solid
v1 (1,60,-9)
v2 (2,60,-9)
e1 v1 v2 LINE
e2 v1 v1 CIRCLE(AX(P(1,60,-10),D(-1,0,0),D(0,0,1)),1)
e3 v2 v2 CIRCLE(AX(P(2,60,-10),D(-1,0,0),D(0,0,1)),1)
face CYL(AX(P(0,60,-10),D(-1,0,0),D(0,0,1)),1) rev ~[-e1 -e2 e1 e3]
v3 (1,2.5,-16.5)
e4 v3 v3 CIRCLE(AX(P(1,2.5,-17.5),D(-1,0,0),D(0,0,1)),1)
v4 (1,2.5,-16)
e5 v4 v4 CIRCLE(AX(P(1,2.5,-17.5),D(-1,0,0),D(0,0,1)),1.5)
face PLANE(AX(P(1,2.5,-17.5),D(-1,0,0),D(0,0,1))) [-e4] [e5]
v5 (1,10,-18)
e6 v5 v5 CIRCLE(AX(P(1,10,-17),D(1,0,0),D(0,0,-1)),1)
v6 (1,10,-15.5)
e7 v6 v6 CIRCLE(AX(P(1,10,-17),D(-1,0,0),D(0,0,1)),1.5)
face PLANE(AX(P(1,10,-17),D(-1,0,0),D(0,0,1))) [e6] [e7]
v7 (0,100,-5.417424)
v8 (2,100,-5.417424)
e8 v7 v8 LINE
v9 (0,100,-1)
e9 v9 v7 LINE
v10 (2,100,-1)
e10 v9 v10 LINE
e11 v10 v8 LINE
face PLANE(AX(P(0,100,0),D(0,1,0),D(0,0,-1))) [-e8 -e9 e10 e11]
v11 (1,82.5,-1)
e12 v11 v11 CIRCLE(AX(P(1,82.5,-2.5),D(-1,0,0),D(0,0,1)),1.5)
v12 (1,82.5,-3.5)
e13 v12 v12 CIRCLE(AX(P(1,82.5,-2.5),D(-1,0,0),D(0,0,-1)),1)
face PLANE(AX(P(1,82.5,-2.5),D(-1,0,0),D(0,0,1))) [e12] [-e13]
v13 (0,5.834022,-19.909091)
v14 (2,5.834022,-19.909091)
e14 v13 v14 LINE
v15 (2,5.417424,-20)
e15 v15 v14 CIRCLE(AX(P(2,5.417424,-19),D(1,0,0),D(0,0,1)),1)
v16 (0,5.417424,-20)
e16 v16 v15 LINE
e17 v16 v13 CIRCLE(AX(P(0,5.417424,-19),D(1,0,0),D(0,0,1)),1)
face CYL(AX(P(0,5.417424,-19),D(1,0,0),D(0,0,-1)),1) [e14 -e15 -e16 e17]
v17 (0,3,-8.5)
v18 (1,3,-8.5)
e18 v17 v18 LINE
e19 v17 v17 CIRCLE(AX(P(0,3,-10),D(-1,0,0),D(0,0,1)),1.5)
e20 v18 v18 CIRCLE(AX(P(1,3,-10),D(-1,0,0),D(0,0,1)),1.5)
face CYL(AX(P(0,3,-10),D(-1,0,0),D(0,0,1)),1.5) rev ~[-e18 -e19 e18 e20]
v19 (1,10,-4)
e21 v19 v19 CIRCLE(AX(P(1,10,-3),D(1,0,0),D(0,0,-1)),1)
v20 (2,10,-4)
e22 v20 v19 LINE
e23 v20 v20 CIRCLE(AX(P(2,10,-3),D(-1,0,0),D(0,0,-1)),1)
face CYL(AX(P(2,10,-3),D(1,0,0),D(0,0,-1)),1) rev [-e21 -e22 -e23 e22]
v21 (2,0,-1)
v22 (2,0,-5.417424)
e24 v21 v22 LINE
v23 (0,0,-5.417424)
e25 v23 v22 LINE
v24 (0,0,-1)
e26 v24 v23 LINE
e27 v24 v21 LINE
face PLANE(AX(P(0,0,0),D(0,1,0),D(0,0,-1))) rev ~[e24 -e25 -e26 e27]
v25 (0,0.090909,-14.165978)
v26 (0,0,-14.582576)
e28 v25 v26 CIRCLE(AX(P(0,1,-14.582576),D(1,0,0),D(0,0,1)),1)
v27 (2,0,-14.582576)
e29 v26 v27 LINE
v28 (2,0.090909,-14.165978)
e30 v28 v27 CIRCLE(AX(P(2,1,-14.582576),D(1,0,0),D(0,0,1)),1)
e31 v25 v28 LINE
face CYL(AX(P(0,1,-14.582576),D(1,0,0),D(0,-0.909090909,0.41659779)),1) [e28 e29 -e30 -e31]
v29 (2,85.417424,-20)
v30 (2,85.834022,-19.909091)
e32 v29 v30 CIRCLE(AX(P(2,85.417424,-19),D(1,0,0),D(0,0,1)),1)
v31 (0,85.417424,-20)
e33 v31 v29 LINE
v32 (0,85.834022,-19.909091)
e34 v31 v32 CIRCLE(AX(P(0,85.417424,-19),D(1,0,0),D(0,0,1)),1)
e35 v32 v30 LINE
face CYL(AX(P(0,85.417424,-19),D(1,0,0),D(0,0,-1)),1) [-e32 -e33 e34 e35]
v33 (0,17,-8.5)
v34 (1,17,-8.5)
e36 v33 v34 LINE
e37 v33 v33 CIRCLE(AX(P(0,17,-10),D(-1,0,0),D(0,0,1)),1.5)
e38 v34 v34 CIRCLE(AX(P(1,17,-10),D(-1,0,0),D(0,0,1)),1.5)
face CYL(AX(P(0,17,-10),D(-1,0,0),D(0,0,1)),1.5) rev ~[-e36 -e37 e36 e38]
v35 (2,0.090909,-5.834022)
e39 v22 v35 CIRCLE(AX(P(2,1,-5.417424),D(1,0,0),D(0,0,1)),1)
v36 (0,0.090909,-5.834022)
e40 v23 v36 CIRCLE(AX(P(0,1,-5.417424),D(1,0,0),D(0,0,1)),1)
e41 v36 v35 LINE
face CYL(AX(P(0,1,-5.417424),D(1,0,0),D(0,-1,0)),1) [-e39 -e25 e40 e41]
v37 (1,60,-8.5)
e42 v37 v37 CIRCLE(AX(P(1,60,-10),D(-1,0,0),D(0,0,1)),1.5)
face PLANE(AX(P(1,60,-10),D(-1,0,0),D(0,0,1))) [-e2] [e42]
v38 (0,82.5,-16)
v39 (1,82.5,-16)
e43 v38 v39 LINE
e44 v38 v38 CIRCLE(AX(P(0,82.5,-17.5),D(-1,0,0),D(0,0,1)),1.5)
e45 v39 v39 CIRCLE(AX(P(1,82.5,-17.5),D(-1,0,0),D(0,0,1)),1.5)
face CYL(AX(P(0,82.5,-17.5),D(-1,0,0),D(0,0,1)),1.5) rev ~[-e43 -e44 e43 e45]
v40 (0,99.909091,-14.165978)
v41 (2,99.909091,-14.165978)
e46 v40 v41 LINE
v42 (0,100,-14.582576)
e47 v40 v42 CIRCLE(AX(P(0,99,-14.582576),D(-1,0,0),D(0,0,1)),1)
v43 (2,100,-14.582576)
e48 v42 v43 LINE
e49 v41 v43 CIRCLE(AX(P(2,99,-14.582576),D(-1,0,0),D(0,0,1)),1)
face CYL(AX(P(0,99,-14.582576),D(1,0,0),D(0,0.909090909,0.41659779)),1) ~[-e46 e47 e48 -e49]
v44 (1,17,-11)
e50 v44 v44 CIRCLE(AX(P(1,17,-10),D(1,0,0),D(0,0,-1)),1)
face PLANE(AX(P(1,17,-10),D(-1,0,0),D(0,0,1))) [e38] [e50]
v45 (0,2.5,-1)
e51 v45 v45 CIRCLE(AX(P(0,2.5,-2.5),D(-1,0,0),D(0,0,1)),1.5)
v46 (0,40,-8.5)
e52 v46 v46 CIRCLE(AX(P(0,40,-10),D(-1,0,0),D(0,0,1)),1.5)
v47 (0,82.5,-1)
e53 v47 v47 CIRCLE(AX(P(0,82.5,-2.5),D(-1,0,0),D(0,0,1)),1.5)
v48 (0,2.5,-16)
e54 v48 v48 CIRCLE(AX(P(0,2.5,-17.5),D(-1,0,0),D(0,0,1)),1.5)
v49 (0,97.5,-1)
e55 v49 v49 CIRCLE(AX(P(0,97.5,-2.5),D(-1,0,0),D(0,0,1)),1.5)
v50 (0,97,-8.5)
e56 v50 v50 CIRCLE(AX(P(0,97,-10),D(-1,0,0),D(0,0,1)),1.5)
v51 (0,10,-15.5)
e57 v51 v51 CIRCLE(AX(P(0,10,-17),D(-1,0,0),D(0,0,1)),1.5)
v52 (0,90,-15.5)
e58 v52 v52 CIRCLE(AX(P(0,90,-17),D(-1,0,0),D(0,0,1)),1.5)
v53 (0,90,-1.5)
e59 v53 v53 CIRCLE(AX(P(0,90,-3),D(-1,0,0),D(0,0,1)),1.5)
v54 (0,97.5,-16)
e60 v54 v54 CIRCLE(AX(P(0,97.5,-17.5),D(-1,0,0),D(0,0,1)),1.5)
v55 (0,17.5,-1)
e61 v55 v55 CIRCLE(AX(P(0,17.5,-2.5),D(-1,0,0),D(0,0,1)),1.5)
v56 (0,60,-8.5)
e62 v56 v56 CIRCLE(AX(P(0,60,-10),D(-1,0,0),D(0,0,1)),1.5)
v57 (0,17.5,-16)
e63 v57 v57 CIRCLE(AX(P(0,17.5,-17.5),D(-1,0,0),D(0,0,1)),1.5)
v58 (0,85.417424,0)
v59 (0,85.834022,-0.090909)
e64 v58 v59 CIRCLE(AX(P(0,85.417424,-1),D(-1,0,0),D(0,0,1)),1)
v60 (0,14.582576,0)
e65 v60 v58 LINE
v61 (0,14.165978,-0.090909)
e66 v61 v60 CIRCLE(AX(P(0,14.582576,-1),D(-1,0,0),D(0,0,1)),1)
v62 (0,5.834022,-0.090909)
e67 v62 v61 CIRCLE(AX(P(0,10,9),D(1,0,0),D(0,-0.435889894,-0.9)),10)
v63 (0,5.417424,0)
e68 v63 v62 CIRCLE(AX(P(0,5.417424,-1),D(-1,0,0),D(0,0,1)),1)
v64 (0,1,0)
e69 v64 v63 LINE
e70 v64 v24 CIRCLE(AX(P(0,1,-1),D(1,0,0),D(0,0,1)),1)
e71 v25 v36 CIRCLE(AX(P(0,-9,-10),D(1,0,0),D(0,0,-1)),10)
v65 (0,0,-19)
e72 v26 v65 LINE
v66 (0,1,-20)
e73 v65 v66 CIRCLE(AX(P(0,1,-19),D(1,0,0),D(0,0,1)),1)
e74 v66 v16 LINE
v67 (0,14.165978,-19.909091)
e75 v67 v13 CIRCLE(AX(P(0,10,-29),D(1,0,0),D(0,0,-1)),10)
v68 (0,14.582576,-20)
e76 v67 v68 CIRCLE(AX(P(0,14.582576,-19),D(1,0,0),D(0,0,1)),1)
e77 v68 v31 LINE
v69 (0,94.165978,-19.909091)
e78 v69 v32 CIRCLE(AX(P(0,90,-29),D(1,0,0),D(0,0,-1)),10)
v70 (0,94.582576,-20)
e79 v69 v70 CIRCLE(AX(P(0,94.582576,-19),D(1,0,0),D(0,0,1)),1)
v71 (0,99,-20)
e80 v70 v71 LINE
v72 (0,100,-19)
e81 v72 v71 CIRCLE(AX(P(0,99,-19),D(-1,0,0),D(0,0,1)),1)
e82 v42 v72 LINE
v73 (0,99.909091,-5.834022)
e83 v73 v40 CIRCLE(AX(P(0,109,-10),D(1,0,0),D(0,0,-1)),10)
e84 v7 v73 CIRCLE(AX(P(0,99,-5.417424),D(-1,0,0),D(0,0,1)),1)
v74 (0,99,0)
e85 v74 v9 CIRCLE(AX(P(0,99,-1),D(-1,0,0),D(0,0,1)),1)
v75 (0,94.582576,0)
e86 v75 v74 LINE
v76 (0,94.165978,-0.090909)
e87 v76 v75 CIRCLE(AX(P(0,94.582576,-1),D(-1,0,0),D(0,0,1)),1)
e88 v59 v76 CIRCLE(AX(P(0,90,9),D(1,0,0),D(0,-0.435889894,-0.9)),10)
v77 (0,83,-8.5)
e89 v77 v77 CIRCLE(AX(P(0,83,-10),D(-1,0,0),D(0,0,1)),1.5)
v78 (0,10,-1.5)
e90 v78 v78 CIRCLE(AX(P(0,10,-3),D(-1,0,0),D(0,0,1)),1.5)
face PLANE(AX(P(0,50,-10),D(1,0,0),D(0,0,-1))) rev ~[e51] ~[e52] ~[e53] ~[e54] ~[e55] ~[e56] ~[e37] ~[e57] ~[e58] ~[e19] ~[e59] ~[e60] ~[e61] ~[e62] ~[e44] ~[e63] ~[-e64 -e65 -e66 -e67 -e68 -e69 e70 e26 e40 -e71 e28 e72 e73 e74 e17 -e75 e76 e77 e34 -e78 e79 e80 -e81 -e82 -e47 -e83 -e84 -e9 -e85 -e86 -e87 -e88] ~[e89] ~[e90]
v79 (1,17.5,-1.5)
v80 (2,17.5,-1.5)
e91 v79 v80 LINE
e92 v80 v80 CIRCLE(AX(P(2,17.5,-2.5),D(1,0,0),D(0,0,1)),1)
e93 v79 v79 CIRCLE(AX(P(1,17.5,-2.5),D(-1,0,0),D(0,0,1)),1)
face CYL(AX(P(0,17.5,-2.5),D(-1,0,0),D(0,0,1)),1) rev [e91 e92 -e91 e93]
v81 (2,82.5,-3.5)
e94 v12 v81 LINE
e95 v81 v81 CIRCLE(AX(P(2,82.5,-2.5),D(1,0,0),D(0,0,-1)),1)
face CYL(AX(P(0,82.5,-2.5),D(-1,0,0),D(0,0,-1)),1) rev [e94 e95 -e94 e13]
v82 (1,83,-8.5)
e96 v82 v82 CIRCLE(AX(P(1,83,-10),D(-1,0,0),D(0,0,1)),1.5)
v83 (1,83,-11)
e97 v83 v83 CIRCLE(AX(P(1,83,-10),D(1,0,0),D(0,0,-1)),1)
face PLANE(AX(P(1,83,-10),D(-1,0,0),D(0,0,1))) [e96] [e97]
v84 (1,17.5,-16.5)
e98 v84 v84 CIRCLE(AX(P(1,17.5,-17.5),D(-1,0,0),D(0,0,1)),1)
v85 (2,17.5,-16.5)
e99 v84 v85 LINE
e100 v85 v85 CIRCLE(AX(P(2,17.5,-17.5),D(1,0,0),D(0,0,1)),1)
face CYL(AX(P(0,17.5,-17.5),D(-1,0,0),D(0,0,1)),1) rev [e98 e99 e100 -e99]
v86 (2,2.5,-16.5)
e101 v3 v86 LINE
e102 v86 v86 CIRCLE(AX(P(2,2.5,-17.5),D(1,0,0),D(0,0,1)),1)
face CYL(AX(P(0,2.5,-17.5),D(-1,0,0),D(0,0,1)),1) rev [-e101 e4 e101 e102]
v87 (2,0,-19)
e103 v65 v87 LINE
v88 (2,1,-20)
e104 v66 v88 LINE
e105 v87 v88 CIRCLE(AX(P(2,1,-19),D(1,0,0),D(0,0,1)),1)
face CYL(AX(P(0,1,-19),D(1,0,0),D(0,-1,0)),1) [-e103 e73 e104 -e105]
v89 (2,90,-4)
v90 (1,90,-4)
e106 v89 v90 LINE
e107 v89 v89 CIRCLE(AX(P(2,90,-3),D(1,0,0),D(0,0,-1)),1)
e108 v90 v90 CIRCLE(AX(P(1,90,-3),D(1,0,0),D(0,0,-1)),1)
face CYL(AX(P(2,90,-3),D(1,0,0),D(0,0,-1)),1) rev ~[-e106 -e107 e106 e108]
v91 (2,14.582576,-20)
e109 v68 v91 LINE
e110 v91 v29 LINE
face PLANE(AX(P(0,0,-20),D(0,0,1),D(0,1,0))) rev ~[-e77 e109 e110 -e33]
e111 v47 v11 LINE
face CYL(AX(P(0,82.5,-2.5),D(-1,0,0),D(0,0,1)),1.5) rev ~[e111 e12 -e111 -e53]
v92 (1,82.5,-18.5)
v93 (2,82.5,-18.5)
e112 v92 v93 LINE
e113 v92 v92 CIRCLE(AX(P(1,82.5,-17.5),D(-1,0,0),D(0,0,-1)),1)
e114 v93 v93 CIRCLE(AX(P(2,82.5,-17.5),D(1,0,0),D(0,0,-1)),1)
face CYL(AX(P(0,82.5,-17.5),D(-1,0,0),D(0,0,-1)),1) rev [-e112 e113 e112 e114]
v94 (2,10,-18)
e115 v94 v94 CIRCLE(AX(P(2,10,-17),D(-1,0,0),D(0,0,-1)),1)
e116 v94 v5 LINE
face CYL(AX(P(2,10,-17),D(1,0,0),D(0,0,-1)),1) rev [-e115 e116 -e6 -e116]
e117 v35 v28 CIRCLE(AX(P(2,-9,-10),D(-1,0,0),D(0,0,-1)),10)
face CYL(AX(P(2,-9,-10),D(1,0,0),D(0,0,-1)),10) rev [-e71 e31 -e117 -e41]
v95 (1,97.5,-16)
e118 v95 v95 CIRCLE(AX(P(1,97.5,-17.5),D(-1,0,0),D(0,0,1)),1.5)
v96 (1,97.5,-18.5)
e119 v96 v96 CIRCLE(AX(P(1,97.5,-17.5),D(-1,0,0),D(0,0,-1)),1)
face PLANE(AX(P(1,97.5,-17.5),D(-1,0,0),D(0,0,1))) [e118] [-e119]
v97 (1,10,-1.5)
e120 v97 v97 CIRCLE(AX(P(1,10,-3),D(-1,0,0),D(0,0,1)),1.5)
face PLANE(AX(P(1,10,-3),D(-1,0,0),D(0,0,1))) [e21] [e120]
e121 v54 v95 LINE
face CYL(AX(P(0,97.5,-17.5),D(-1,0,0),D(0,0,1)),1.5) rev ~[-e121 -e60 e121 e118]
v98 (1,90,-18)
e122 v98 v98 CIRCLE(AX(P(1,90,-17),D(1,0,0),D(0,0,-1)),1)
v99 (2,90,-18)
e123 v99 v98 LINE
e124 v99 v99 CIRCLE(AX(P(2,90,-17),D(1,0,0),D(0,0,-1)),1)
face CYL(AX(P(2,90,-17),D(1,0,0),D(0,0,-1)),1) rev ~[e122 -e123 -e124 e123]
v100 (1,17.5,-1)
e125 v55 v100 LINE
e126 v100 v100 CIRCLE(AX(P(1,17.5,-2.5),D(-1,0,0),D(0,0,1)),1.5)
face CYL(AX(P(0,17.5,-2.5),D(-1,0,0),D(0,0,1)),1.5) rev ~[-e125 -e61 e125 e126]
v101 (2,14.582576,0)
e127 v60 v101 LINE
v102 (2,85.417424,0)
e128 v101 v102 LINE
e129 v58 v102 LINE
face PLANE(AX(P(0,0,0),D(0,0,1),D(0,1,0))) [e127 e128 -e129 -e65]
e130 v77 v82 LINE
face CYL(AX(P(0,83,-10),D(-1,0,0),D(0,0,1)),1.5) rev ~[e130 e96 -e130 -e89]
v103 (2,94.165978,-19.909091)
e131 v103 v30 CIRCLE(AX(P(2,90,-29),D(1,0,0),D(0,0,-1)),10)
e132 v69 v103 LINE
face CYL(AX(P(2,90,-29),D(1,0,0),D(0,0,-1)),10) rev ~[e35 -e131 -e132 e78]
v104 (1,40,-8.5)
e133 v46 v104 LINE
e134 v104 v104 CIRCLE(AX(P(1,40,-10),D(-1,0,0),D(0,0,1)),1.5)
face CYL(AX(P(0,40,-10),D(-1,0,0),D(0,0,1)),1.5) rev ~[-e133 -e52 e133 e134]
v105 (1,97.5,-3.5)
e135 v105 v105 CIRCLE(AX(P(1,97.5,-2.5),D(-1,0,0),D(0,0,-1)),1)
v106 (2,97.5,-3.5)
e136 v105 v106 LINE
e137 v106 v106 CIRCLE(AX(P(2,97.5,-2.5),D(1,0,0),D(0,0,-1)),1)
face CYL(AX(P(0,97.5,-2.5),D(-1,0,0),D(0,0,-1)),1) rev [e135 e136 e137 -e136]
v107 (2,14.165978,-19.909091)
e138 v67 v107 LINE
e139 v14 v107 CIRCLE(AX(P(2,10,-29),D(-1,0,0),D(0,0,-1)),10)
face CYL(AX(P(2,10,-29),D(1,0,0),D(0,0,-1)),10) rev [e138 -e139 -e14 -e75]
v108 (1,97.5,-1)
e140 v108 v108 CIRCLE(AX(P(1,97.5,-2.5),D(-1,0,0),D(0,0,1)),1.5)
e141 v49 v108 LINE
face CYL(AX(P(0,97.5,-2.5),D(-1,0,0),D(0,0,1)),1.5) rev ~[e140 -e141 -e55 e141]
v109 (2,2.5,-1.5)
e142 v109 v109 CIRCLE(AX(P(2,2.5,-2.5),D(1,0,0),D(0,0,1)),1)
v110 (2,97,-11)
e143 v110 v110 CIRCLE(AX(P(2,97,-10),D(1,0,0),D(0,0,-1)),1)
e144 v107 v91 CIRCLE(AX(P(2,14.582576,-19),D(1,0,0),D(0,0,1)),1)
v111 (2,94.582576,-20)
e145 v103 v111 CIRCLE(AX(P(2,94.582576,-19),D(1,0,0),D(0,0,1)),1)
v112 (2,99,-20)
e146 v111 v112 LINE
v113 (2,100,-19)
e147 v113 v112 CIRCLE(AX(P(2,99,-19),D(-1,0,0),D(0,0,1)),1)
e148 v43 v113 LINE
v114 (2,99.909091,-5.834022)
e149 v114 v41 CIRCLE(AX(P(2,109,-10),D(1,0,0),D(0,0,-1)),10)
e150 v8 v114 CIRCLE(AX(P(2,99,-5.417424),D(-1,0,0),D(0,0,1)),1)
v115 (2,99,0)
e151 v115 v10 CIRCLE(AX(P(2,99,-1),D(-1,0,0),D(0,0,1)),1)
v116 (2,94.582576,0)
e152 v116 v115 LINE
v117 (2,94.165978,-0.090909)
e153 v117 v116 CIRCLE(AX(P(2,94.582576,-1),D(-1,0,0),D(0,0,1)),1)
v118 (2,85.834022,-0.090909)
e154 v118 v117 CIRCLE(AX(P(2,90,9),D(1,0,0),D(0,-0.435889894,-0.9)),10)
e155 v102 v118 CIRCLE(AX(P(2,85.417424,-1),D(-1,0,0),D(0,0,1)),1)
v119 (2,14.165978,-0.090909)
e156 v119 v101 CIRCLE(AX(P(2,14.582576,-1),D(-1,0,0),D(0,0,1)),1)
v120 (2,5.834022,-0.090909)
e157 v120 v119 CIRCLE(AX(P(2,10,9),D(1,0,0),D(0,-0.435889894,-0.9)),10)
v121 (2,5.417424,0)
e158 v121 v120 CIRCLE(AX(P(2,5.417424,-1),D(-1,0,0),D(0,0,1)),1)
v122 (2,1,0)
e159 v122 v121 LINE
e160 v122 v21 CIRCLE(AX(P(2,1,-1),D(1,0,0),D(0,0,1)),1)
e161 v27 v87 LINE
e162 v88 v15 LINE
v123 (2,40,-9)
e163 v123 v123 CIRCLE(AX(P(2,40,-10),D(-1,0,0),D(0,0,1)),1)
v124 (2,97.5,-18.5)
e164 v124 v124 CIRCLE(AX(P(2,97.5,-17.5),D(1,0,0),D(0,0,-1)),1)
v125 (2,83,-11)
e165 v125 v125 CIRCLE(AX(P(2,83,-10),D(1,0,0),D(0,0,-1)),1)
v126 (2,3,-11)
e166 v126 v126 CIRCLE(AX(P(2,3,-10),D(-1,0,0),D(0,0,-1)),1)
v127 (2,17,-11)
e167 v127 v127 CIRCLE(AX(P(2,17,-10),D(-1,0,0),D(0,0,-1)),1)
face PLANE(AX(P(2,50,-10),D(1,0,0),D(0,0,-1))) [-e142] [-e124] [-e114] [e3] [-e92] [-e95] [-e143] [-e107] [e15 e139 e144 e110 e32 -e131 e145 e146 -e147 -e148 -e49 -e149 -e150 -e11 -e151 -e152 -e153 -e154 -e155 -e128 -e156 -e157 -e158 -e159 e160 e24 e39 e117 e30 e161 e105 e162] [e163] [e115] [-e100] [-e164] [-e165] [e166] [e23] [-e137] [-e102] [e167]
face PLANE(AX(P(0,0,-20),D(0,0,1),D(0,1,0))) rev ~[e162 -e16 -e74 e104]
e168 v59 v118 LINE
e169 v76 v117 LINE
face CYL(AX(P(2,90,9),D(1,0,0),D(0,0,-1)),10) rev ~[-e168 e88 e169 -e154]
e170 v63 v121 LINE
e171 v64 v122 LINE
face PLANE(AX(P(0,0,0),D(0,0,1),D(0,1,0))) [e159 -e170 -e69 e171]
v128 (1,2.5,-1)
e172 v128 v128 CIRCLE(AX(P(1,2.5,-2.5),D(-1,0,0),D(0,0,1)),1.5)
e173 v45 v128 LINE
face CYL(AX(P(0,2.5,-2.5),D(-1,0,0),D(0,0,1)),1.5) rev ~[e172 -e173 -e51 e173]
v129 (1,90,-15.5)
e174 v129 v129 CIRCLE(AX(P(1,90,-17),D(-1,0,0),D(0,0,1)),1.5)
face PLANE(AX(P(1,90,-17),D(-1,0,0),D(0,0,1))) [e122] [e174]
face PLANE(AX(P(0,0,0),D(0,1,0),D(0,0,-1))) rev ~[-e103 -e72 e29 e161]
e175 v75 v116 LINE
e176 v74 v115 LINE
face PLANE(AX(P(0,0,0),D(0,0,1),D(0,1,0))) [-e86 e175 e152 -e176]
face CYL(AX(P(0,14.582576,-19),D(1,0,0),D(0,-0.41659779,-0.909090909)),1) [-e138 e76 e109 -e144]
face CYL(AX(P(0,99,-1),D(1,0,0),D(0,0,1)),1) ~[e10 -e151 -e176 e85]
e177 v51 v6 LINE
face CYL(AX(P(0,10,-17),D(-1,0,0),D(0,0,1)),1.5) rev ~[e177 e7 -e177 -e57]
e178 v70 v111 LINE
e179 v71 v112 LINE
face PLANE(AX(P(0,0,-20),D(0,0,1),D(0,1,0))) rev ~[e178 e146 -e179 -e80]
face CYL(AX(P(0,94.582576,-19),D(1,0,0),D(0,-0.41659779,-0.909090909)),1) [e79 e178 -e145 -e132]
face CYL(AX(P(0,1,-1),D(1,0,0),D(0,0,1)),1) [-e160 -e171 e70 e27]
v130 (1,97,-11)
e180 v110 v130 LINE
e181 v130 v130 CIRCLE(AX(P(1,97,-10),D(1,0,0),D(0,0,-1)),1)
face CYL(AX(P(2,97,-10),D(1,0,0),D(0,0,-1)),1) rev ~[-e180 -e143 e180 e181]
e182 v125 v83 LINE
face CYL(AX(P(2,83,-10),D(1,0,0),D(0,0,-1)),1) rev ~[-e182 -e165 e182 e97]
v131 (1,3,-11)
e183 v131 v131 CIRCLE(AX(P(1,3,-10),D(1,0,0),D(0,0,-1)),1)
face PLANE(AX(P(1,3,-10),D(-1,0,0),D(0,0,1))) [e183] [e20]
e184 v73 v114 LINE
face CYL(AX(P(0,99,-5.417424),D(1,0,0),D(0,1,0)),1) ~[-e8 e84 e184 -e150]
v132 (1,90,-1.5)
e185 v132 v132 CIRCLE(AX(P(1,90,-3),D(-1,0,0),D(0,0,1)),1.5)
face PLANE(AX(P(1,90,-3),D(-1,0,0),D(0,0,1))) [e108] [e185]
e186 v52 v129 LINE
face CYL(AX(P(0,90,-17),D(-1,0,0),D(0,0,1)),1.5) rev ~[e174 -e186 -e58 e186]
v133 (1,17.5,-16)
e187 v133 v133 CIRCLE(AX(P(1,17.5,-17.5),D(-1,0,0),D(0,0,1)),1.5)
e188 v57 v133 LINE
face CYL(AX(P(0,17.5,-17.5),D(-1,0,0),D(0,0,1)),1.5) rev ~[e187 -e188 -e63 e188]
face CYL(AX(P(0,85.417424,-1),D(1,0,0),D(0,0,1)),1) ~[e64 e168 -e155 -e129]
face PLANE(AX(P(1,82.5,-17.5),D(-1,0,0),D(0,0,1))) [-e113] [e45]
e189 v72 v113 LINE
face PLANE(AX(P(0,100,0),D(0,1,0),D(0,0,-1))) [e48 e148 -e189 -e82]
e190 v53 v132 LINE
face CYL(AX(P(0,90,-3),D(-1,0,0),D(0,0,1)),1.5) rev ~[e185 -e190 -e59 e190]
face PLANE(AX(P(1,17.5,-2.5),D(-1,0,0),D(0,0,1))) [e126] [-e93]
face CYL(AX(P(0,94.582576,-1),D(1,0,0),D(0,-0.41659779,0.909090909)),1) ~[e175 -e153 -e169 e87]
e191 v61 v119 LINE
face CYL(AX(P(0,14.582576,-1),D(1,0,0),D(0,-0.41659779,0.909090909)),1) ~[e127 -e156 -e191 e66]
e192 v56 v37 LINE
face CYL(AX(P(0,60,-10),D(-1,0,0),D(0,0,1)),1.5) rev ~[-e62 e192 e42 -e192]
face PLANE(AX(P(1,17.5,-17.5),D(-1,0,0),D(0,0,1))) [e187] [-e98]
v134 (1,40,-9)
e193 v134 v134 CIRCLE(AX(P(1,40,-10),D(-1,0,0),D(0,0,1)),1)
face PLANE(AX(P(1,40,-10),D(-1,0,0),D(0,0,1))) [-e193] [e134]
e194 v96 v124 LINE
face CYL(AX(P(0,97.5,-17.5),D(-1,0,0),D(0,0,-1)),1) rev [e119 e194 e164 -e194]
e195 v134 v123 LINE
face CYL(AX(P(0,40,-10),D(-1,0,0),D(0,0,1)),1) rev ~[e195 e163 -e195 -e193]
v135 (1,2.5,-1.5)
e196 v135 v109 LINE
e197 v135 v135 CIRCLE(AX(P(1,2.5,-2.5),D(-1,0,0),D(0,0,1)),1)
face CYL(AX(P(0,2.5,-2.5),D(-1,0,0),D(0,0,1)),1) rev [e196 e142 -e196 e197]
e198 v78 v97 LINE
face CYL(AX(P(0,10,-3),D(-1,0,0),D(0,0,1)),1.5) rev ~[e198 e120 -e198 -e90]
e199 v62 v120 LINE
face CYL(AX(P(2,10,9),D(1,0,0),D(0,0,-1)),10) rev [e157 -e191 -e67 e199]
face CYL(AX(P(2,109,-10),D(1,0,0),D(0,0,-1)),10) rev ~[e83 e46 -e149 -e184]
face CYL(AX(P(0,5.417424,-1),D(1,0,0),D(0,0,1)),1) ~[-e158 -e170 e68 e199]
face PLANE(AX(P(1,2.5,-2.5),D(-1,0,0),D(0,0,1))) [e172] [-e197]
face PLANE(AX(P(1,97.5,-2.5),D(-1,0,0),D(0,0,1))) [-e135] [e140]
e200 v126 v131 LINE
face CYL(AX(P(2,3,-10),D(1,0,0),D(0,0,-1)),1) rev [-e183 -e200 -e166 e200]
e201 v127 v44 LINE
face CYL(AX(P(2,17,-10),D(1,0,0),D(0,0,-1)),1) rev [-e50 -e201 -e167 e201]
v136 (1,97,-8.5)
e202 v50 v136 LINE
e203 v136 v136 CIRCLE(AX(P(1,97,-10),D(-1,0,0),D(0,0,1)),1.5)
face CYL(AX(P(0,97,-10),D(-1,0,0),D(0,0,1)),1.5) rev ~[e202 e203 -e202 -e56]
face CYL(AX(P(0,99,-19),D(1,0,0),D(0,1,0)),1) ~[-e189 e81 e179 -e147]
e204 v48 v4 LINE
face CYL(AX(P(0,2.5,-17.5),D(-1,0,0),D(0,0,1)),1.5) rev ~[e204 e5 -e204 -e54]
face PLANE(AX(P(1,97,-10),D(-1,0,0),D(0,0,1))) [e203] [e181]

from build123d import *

# Parameters (mm, degrees)
SKETCH_1_W          = 20
SKETCH_1_H          = 100
SKETCH_1_R          = 1
EXTRUDE_1_DEPTH     = 2
SKETCH_3_R          = 10
CUT_EXTRUDE_2_DEPTH = 10
SKETCH_4_R          = 1
CUT_EXTRUDE_3_DEPTH = 10
FILLET_2_R          = 1
SKETCH_5_R          = 1
CUT_EXTRUDE_4_DEPTH = 103
SKETCH_6_R          = 1.5
CUT_EXTRUDE_5_DEPTH = 1


with BuildPart() as part:
    # 草图1 → 凸台-拉伸1 (new body)
    with BuildSketch(Plane(origin=(0, 0, 0), x_dir=(0, 0, -1), z_dir=(1, 0, 0))):
        with Locations((10, 50)):
            Rectangle(SKETCH_1_W, SKETCH_1_H)
        with Locations((2.5, 97.5)):
            Circle(SKETCH_1_R, mode=Mode.SUBTRACT)
        with Locations((17.5, 97.5)):
            Circle(SKETCH_1_R, mode=Mode.SUBTRACT)
        with Locations((17.5, 82.5)):
            Circle(SKETCH_1_R, mode=Mode.SUBTRACT)
        with Locations((2.5, 82.5)):
            Circle(SKETCH_1_R, mode=Mode.SUBTRACT)
        with Locations(Location((17.5, 17.5, 0), (0, 0, 180))):
            Circle(SKETCH_1_R, mode=Mode.SUBTRACT)
        with Locations(Location((2.5, 17.5, 0), (0, 0, 180))):
            Circle(SKETCH_1_R, mode=Mode.SUBTRACT)
        with Locations(Location((2.5, 2.5, 0), (0, 0, 180))):
            Circle(SKETCH_1_R, mode=Mode.SUBTRACT)
        with Locations(Location((17.5, 2.5, 0), (0, 0, 180))):
            Circle(SKETCH_1_R, mode=Mode.SUBTRACT)
    extrude(amount=EXTRUDE_1_DEPTH)

    # 草图3 → 切除-拉伸2 (cut)
    with BuildSketch(Plane(origin=(2, 0, 0), x_dir=(0, 0, -1), z_dir=(1, 0, 0))):
        with Locations((10, 109)):
            Circle(SKETCH_3_R)
        with Locations((-9, 90)):
            Circle(SKETCH_3_R)
        with Locations((29, 90)):
            Circle(SKETCH_3_R)
    cut_extrude_2 = extrude(amount=-CUT_EXTRUDE_2_DEPTH, mode=Mode.SUBTRACT)

    # 镜向2: 切除-拉伸2 across plane
    add(cut_extrude_2.mirror(Plane(origin=(0, 50, 0), x_dir=(0, 0, 1), z_dir=(0, -1, 0))), mode=Mode.SUBTRACT)

    # 草图4 → 切除-拉伸3 (cut)
    with BuildSketch(Plane(origin=(2, 0, 0), x_dir=(0, 0, -1), z_dir=(1, 0, 0))):
        with Locations((10, 97)):
            Circle(SKETCH_4_R)
        with Locations((3, 90)):
            Circle(SKETCH_4_R)
        with Locations((17, 90)):
            Circle(SKETCH_4_R)
        with Locations((10, 83)):
            Circle(SKETCH_4_R)
    cut_extrude_3 = extrude(amount=-CUT_EXTRUDE_3_DEPTH, mode=Mode.SUBTRACT)

    # 镜向3: 切除-拉伸3 across plane
    add(cut_extrude_3.mirror(Plane(origin=(0, 50, 0), x_dir=(0, 0, 1), z_dir=(0, -1, 0))), mode=Mode.SUBTRACT)

    # 圆角2
    fillet_2_edges = [part.edges().sort_by_distance(p)[0] for p in [
        (1, 100, -5.641101056),
        (1, 100, -14.358898944),
        (1, 85.641101056, 0),
        (1, 94.358898944, 0),
        (1, 94.358898944, -20),
        (1, 85.641101056, -20),
        (1, 100, 0),
        (1, 0, -14.358898944),
        (1, 100, -20),
        (1, 0, -5.641101056),
        (1, 0, -20),
        (1, 0, 0),
        (1, 5.641101056, 0),
        (1, 14.358898944, 0),
        (1, 14.358898944, -20),
        (1, 5.641101056, -20),
    ]]
    fillet(fillet_2_edges, radius=FILLET_2_R)

    # 草图5 → 切除-拉伸4 (cut, through all)
    with BuildSketch(Plane.ZY):
        with Locations((-10, 60)):
            Circle(SKETCH_5_R)
        with Locations((-10, 40)):
            Circle(SKETCH_5_R)
    extrude(amount=-CUT_EXTRUDE_4_DEPTH, mode=Mode.SUBTRACT)

    # 草图6 → 切除-拉伸5 (cut)
    with BuildSketch(Plane.ZY):
        with Locations((-2.5, 97.5)):
            Circle(SKETCH_6_R)
        with Locations((-3, 90)):
            Circle(SKETCH_6_R)
        with Locations((-2.5, 82.5)):
            Circle(SKETCH_6_R)
        with Locations((-10, 97)):
            Circle(SKETCH_6_R)
        with Locations((-10, 83)):
            Circle(SKETCH_6_R)
        with Locations((-17.5, 97.5)):
            Circle(SKETCH_6_R)
        with Locations((-17, 90)):
            Circle(SKETCH_6_R)
        with Locations((-17.5, 82.5)):
            Circle(SKETCH_6_R)
        with Locations((-10, 60)):
            Circle(SKETCH_6_R)
        with Locations((-10, 40)):
            Circle(SKETCH_6_R)
        with Locations((-2.5, 17.5)):
            Circle(SKETCH_6_R)
        with Locations((-3, 10)):
            Circle(SKETCH_6_R)
        with Locations((-2.5, 2.5)):
            Circle(SKETCH_6_R)
        with Locations((-10, 17)):
            Circle(SKETCH_6_R)
        with Locations((-10, 3)):
            Circle(SKETCH_6_R)
        with Locations((-17.5, 17.5)):
            Circle(SKETCH_6_R)
        with Locations((-17, 10)):
            Circle(SKETCH_6_R)
        with Locations((-17.5, 2.5)):
            Circle(SKETCH_6_R)
    extrude(amount=-CUT_EXTRUDE_5_DEPTH, mode=Mode.SUBTRACT)


solid = part.part
